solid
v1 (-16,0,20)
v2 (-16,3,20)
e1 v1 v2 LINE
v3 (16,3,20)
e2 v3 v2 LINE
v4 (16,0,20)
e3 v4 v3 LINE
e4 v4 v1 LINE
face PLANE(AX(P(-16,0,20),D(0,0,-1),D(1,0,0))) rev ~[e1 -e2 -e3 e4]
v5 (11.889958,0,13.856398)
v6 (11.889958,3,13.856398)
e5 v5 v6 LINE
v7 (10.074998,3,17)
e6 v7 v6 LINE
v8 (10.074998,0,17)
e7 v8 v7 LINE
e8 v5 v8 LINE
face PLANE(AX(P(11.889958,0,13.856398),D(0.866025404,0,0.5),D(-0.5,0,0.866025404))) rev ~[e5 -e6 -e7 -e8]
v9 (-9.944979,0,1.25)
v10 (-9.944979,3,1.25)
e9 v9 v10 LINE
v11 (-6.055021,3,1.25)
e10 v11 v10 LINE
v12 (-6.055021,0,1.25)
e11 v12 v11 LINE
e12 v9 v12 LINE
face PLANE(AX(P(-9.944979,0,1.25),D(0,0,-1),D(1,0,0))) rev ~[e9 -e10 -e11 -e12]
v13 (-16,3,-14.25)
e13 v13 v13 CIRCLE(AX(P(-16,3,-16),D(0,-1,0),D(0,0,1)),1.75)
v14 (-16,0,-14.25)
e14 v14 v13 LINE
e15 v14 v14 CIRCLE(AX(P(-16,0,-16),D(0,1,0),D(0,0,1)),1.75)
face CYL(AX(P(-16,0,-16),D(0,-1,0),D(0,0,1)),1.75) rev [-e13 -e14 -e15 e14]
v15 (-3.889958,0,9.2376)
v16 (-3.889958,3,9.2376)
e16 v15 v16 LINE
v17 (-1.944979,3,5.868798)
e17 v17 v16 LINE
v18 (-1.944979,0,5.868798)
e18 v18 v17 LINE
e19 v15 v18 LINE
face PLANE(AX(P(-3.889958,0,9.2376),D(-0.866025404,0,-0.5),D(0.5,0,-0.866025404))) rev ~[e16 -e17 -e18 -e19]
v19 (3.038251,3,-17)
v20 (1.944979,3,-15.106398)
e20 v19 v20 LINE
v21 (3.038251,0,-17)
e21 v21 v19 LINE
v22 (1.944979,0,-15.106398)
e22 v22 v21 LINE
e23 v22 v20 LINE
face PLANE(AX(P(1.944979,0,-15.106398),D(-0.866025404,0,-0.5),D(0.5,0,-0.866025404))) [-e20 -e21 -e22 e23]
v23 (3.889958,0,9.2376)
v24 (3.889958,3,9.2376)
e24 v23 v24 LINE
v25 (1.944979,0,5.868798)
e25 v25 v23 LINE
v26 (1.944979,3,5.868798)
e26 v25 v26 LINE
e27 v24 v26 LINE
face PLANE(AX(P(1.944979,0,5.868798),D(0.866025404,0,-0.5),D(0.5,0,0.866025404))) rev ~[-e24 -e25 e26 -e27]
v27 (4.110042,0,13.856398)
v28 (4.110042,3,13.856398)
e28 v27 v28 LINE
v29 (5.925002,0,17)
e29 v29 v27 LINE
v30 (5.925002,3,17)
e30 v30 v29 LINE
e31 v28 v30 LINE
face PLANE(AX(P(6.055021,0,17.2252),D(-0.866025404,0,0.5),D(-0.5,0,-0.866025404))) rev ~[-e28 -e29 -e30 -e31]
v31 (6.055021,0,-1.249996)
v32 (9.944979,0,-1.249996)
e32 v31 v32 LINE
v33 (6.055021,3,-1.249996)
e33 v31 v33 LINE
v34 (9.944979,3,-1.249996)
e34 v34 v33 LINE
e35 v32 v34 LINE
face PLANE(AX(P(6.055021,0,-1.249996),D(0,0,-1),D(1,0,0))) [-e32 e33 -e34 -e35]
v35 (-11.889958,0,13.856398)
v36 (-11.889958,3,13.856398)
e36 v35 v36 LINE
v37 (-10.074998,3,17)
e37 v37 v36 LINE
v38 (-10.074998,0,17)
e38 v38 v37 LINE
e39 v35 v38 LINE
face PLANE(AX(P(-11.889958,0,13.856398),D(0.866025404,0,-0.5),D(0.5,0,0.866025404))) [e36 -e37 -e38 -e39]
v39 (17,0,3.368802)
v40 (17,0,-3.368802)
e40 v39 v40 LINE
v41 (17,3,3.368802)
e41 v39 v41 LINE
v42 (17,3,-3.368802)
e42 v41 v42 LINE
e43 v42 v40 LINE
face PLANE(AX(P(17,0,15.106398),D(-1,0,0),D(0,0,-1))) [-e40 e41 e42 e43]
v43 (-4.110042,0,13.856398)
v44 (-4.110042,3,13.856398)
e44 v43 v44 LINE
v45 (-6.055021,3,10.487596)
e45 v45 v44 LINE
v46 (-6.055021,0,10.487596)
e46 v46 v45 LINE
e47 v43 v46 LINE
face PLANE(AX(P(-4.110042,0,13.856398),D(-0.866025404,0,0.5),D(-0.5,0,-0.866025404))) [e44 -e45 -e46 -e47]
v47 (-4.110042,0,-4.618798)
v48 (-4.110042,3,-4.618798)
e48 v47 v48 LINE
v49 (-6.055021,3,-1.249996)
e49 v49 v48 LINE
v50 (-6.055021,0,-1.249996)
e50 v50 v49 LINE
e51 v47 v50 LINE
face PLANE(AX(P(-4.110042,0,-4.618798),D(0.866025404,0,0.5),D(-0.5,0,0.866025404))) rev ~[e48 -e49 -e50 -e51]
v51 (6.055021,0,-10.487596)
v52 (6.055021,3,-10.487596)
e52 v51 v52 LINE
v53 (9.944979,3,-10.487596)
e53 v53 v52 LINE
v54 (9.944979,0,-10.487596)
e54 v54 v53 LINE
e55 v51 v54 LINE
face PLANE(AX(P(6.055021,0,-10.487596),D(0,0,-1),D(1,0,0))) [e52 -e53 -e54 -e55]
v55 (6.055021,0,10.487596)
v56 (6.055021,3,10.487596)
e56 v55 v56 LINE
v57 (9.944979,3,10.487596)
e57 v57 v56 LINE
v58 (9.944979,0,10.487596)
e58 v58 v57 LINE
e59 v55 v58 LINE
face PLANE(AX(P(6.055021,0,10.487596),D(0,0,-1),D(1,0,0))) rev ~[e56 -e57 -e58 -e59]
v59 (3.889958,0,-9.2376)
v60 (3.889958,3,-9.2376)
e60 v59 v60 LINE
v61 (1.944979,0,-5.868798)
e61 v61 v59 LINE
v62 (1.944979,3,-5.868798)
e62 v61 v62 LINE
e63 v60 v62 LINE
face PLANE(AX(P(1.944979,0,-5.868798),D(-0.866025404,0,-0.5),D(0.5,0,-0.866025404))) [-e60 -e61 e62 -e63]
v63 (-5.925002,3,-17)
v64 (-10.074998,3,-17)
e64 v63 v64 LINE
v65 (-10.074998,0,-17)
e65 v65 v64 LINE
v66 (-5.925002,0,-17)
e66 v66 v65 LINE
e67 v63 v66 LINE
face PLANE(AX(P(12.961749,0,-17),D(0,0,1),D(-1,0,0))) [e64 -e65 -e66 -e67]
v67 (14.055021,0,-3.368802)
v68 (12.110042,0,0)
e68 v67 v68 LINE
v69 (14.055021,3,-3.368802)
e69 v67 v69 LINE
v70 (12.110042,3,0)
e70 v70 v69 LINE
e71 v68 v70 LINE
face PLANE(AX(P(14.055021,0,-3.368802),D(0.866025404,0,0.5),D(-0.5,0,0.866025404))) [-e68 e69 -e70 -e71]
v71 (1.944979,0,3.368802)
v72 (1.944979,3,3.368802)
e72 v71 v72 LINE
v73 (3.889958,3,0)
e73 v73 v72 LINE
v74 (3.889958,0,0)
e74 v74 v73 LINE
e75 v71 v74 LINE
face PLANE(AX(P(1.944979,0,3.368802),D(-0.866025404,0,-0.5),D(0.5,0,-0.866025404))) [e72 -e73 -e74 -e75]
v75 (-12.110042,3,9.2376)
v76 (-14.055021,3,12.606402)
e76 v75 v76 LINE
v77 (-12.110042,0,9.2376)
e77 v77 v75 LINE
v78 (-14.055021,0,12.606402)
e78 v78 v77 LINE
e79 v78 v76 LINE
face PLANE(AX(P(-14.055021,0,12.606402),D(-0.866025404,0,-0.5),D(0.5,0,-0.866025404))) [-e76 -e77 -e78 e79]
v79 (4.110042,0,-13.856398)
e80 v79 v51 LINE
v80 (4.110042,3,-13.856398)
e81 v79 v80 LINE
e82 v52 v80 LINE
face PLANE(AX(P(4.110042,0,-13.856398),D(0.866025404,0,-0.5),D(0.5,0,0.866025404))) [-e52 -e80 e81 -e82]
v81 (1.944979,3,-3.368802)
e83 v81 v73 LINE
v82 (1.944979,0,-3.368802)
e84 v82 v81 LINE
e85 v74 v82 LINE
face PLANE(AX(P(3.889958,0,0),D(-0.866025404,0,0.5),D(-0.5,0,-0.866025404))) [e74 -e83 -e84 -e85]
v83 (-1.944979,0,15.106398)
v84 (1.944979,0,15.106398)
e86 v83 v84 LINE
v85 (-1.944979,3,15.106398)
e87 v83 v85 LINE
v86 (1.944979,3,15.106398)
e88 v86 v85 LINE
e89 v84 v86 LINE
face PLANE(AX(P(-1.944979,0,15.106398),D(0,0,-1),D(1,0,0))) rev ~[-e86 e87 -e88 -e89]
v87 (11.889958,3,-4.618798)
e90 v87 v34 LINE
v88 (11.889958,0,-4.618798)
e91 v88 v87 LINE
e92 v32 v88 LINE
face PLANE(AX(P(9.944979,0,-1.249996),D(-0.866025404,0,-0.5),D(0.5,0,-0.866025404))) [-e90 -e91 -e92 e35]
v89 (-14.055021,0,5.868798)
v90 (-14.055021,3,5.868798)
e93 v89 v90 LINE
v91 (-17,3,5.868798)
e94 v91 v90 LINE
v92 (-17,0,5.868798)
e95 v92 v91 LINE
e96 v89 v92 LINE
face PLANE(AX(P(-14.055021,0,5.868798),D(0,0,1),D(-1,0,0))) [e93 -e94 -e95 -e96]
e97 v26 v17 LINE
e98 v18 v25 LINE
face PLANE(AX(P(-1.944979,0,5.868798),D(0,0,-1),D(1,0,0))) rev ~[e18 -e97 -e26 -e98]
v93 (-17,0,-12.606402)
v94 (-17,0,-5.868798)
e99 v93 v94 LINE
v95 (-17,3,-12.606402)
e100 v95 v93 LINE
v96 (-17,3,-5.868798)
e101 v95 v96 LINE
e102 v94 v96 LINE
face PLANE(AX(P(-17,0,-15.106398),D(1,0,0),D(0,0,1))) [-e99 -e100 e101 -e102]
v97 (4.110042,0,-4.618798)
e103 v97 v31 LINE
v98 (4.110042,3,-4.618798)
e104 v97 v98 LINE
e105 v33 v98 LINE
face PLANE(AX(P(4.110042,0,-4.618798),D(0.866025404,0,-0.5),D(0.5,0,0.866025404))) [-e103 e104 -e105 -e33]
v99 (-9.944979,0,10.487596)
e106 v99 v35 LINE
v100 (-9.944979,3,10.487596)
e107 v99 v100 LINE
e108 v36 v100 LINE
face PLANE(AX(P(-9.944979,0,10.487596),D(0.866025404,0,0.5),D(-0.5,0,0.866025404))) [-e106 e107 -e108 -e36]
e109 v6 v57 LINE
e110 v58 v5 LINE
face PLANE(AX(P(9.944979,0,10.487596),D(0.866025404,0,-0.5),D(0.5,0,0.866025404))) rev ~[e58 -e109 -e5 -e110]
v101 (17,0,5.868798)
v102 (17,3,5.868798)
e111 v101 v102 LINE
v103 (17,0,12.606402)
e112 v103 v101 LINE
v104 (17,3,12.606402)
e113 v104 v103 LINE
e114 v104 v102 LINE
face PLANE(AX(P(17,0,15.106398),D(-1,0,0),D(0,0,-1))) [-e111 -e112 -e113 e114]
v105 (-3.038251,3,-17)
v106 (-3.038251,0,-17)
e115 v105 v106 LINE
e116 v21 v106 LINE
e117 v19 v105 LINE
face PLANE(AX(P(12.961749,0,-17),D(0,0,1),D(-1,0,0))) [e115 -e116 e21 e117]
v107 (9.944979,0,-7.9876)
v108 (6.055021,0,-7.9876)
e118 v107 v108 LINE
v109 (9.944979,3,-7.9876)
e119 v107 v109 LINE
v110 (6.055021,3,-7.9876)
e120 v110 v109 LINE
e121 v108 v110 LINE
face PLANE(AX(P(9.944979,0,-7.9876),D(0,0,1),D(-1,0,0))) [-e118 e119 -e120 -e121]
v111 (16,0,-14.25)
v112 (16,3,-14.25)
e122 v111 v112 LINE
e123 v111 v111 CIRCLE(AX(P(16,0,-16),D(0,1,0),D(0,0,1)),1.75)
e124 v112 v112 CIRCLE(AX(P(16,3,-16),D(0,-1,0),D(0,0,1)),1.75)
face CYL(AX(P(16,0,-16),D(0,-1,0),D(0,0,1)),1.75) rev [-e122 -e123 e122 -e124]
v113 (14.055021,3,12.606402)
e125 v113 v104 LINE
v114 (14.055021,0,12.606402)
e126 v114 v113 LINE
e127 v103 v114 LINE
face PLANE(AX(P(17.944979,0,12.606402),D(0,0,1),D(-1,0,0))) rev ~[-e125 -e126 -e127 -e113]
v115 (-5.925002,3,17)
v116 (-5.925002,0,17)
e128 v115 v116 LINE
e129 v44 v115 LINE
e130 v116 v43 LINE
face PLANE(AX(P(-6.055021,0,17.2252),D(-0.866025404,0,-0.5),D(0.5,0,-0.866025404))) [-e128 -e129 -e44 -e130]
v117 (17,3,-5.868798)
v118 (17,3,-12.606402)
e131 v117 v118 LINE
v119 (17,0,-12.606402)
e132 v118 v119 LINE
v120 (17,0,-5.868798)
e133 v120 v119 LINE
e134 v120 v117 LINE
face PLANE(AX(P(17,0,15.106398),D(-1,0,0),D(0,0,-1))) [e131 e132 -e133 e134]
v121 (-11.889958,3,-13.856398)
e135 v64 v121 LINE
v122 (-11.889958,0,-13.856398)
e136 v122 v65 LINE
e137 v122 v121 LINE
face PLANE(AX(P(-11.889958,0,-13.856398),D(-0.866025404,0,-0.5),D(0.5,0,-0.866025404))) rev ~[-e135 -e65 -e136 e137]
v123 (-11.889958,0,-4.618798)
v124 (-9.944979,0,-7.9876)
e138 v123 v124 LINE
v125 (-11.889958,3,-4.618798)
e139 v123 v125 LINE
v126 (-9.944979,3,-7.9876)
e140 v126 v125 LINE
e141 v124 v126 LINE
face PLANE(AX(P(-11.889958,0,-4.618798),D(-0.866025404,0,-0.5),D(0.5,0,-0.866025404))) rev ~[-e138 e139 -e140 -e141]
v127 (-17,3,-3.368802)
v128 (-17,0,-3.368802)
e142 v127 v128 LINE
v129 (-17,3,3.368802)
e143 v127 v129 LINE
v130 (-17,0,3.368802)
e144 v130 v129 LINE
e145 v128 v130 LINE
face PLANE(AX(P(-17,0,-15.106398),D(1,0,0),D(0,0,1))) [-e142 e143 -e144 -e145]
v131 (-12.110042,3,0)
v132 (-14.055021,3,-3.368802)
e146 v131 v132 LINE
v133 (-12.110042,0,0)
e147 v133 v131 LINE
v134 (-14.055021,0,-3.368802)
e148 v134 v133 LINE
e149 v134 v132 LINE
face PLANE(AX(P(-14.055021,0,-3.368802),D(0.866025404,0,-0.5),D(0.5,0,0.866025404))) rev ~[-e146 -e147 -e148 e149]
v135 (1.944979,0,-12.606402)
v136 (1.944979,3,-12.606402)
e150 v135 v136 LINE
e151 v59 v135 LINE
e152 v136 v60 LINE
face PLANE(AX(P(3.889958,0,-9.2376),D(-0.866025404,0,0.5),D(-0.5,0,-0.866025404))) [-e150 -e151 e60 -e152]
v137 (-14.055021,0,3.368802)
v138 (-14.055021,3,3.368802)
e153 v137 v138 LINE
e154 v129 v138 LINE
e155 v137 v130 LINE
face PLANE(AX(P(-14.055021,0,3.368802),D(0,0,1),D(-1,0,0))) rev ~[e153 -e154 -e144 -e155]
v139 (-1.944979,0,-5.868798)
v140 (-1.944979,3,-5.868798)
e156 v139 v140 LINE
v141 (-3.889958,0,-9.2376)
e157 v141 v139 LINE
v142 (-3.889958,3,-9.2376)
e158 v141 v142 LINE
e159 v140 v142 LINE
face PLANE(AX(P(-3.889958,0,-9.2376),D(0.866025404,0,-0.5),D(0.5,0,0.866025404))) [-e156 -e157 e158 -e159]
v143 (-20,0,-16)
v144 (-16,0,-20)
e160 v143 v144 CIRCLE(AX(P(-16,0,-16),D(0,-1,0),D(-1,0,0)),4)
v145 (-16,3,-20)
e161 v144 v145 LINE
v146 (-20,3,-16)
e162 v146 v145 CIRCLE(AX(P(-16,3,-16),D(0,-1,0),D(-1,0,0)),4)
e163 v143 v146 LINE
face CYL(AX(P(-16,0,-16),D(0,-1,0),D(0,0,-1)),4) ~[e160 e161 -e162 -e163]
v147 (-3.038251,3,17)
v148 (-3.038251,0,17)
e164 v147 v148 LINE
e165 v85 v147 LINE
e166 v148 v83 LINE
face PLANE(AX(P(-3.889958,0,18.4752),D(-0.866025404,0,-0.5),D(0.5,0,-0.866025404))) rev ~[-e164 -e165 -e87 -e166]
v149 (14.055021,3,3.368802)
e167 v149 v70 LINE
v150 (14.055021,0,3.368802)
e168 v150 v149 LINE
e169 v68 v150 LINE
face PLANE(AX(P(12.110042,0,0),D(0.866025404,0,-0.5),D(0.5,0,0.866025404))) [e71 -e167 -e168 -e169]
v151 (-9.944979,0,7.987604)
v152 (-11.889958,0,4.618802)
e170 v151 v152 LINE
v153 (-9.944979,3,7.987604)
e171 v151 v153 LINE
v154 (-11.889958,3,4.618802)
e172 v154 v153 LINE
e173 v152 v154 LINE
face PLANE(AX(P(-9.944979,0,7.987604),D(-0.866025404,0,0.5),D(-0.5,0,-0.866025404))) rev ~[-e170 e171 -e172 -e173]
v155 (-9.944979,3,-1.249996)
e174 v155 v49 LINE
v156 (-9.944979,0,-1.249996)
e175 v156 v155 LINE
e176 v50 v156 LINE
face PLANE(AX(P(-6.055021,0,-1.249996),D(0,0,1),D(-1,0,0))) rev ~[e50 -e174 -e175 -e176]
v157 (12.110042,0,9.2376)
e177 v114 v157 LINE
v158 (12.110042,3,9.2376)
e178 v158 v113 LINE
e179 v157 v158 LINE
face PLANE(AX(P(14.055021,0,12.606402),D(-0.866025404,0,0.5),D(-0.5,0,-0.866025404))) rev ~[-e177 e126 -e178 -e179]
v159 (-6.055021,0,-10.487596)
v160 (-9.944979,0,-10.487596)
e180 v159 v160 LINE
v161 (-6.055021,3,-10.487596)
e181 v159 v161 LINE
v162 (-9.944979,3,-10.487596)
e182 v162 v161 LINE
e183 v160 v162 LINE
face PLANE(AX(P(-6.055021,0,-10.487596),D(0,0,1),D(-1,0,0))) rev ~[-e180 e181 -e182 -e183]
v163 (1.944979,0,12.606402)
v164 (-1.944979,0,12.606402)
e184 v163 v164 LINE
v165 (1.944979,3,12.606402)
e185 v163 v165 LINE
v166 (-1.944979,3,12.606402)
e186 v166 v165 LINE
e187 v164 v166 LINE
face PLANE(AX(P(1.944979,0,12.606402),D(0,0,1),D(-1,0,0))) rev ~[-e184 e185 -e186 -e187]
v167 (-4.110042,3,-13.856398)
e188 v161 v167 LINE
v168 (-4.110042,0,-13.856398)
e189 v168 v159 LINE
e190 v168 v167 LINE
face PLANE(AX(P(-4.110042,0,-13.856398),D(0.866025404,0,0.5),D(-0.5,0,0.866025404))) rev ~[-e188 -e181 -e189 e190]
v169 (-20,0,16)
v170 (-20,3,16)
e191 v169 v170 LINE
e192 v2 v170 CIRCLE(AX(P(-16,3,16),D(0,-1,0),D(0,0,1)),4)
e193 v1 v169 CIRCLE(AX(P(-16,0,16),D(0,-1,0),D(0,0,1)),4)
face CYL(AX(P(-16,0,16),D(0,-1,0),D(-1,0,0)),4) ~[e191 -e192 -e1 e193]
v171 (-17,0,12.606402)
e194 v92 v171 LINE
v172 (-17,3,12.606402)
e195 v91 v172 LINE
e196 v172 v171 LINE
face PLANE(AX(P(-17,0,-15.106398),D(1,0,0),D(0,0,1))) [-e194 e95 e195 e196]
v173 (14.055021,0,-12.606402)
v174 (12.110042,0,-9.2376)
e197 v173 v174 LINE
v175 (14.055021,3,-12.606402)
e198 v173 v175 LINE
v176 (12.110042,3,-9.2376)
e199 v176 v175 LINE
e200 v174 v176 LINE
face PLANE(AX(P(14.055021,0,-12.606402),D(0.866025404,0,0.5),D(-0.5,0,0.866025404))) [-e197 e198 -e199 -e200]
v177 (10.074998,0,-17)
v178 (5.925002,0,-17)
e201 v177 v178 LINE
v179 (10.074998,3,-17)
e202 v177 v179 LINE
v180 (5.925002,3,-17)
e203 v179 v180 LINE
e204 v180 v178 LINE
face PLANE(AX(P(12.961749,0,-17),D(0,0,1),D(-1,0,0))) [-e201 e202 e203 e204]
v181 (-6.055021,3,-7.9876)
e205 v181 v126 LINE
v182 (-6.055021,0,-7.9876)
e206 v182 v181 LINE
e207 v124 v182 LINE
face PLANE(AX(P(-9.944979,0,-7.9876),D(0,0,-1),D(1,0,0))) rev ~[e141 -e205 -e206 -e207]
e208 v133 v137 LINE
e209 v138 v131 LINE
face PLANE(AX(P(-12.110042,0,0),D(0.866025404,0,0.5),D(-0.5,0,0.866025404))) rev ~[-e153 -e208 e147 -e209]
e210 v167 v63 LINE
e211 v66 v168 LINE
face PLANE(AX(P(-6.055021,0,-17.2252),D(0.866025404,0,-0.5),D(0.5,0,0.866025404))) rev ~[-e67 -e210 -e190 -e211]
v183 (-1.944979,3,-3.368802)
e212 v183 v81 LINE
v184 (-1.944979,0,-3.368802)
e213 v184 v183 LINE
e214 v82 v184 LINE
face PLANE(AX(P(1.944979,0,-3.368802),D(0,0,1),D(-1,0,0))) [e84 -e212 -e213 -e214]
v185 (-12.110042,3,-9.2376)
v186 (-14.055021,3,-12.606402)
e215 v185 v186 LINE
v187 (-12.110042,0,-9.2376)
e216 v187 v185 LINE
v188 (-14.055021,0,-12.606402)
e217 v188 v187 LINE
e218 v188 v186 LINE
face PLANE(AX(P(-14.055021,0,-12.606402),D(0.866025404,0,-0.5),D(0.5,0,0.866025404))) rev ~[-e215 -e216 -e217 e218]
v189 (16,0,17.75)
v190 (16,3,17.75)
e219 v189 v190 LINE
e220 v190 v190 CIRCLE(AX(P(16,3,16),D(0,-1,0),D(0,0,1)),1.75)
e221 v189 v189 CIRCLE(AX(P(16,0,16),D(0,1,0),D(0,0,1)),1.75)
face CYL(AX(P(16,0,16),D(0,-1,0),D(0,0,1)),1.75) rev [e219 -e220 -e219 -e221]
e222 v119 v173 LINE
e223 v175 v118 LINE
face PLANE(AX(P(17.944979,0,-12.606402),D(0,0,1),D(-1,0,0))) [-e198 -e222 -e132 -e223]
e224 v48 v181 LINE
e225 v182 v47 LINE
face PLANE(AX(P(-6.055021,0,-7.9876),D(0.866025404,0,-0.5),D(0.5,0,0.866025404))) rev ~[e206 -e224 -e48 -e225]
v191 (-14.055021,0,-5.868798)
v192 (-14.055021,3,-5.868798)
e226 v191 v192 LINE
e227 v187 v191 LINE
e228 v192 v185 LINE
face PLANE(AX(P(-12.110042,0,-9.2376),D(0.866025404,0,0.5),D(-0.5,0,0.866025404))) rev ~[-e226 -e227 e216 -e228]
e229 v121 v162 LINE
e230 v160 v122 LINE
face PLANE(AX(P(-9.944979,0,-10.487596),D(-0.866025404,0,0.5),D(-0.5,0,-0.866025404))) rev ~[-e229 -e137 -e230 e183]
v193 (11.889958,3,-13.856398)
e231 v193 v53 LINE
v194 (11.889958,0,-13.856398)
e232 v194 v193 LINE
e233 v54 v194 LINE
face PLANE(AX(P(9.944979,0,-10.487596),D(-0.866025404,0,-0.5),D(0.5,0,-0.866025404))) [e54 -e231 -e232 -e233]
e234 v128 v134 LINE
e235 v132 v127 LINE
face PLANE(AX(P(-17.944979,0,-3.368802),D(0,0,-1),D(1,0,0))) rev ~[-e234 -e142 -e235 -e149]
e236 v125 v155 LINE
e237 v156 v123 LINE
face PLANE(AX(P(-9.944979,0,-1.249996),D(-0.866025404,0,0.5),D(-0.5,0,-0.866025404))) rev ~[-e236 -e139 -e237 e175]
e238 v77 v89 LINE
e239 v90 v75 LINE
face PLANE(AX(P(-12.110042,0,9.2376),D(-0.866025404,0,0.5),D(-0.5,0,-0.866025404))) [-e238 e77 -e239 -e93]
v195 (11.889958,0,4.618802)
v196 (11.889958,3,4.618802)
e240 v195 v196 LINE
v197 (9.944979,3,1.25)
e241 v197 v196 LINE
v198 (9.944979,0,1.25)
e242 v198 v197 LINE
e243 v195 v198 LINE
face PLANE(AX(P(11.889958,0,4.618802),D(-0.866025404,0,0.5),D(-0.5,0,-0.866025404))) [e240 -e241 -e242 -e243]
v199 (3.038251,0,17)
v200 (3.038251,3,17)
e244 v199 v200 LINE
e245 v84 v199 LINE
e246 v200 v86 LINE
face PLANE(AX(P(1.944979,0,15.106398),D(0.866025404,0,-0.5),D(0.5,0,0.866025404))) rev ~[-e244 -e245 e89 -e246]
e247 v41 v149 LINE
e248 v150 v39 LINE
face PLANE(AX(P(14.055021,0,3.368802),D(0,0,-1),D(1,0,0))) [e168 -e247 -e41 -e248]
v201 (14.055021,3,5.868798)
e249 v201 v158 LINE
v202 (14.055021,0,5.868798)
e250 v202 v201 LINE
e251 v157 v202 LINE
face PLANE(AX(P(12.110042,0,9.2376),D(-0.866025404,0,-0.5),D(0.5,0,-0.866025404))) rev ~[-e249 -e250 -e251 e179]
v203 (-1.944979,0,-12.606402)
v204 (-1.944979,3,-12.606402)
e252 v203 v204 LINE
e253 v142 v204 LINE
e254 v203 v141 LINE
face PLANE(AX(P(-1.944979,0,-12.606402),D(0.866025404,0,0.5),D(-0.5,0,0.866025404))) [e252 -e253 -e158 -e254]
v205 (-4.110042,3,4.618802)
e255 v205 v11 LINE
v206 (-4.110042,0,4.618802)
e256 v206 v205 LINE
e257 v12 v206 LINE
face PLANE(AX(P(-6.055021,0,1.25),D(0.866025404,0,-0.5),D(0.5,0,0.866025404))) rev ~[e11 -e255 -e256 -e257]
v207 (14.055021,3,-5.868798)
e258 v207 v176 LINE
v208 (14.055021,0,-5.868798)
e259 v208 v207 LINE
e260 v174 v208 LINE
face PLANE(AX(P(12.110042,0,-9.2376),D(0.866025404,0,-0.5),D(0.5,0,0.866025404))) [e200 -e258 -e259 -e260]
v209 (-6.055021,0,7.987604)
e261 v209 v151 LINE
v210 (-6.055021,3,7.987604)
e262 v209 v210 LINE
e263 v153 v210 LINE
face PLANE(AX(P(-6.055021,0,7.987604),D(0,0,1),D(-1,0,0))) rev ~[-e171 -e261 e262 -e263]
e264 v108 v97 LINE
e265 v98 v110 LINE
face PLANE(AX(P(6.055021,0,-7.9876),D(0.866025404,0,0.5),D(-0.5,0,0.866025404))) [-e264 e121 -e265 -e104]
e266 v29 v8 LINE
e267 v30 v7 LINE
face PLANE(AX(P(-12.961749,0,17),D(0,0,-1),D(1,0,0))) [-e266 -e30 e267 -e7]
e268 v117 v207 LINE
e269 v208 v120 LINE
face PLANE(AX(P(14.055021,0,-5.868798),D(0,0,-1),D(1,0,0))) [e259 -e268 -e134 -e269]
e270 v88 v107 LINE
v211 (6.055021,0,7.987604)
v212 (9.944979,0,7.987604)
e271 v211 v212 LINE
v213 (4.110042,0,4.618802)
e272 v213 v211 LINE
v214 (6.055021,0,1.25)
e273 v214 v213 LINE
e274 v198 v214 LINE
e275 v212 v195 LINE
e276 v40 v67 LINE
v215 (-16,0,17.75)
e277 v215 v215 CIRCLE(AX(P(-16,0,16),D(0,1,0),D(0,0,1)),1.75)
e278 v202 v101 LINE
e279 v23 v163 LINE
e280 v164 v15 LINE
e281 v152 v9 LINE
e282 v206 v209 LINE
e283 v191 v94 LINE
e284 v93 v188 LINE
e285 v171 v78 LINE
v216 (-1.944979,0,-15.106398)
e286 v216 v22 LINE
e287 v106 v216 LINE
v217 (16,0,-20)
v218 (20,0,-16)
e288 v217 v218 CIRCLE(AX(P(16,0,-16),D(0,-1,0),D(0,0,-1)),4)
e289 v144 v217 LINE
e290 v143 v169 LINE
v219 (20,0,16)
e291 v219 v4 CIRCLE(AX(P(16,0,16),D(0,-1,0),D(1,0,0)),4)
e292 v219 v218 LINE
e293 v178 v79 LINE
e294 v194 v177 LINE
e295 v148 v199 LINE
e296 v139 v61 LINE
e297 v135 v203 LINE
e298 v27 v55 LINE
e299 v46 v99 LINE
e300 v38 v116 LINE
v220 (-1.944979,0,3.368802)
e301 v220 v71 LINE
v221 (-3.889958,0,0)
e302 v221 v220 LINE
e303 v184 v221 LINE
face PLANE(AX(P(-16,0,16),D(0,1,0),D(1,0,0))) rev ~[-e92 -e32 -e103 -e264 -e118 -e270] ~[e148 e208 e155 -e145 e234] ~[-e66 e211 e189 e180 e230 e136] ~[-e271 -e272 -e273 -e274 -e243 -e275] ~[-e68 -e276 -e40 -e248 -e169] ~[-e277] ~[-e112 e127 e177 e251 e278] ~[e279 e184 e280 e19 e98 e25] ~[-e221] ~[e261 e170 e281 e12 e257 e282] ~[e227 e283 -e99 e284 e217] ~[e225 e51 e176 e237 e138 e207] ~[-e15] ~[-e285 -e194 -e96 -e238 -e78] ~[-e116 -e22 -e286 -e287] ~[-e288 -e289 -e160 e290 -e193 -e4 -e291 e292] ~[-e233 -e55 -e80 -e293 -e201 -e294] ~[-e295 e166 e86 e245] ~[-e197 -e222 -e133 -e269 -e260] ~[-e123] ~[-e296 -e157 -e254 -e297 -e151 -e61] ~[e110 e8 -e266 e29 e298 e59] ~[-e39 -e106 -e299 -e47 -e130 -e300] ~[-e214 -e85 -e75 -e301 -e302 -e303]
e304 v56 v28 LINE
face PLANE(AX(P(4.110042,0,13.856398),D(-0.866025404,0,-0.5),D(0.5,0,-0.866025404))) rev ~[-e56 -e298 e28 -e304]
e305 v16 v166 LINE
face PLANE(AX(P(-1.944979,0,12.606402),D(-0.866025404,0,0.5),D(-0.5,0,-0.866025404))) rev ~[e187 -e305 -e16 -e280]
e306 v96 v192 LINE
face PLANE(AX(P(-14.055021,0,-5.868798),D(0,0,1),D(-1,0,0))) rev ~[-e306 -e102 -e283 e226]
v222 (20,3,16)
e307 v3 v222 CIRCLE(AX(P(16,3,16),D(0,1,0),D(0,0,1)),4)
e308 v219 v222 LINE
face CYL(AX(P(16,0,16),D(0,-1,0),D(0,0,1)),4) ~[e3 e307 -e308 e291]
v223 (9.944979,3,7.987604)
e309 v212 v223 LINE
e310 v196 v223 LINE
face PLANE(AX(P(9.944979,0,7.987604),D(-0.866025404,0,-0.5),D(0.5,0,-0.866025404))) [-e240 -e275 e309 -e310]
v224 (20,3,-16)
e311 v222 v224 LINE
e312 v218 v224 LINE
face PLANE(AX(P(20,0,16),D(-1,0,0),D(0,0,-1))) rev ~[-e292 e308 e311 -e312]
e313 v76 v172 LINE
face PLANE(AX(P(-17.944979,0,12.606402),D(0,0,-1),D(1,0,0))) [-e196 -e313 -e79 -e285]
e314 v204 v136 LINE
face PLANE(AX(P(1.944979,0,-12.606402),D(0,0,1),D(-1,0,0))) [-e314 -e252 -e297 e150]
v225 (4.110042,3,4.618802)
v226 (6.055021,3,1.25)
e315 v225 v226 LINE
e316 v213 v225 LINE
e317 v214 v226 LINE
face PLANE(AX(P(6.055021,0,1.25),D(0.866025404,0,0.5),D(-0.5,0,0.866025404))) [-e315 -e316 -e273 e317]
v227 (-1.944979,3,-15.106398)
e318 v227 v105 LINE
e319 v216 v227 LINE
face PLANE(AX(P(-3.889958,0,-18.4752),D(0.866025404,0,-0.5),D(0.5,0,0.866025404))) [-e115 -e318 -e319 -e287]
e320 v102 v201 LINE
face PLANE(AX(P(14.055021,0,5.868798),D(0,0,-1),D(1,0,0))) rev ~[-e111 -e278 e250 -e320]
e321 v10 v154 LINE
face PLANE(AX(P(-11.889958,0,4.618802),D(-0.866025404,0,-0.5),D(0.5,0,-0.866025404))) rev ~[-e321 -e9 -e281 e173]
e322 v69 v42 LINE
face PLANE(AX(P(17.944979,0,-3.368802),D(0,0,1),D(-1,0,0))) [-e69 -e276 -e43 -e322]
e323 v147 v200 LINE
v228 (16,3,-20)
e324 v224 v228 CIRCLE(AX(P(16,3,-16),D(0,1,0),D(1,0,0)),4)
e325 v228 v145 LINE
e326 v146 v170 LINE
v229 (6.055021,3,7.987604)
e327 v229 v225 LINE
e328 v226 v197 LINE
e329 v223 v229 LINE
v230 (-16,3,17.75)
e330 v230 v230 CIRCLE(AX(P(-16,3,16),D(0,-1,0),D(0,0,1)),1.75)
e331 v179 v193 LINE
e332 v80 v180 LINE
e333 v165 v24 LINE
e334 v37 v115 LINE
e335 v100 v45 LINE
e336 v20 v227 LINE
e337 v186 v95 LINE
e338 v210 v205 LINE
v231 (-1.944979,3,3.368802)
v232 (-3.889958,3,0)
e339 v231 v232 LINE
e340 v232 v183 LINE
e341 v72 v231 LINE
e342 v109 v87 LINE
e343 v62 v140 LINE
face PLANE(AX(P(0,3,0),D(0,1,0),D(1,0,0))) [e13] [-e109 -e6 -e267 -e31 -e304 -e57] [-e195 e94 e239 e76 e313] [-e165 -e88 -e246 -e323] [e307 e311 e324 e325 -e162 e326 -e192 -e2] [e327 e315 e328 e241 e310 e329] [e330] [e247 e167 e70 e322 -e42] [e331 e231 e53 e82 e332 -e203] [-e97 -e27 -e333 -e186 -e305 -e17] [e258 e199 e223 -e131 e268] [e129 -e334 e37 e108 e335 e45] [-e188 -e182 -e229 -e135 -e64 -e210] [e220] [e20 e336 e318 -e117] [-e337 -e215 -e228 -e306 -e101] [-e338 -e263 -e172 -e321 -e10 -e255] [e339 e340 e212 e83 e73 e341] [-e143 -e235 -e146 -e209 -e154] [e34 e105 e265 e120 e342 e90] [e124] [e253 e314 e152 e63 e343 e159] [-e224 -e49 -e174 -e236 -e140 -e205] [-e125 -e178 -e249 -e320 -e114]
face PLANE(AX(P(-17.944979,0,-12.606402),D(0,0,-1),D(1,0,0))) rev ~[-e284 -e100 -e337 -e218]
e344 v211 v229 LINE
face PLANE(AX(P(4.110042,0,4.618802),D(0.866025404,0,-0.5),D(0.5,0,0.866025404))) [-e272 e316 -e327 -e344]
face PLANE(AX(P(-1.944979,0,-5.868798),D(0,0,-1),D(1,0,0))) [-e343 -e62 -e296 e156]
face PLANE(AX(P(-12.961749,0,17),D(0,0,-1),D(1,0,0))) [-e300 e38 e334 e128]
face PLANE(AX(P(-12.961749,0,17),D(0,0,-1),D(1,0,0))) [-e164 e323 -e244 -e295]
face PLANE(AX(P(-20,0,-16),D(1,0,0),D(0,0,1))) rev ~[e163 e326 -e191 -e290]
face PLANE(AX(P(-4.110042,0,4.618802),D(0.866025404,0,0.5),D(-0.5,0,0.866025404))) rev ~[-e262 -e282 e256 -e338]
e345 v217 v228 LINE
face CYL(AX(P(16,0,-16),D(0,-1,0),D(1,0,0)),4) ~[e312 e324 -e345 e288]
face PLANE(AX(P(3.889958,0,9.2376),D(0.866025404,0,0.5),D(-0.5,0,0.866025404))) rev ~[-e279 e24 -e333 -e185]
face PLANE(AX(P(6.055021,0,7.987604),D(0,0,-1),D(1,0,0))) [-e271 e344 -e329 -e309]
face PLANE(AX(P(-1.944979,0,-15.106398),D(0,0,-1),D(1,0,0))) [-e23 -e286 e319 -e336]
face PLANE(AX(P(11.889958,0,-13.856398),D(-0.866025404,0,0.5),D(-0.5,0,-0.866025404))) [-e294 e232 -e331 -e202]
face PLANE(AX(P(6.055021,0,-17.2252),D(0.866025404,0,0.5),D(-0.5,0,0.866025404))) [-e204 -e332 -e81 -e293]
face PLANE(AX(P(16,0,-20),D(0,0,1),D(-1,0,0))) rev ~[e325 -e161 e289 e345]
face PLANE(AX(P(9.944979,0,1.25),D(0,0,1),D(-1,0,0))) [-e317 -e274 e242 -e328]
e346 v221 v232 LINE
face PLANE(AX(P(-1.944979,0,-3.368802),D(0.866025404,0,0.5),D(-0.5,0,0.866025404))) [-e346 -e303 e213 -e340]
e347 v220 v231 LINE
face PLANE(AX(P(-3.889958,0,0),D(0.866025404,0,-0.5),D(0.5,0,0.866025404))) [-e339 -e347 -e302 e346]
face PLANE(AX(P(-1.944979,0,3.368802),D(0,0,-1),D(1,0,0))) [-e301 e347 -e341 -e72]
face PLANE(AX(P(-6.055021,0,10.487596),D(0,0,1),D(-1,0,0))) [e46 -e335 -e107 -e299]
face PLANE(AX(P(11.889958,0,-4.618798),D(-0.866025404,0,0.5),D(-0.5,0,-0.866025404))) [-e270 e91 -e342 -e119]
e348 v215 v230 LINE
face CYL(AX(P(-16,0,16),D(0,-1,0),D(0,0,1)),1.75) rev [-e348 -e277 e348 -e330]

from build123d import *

# Parameters (mm, degrees)
SKETCH1_R           = 1.75
BOSS_EXTRUDE1_DEPTH = 3
CUT_EXTRUDE1_DEPTH  = 29.442925307
BOSS_EXTRUDE2_DEPTH = 3
SKETCH1_3_R         = 1.75
CUT_EXTRUDE2_DEPTH  = 29.442925307


with BuildPart() as part:
    # Sketch1 → Boss-Extrude1 (new body)
    # profile 1 of 5: a face of its own
    with BuildSketch(Plane(origin=(0, 0, 0), x_dir=(1, 0, 0), z_dir=(0, 1, 0))):
        with BuildLine():
            Line((-16, -20), (16, -20))
            ThreePointArc((16, -20), (18.828427125, -18.828427125), (20, -16))
            Line((20, -16), (20, 16))
            ThreePointArc((20, 16), (18.828427125, 18.828427125), (16, 20))
            Line((16, 20), (-16, 20))
            ThreePointArc((-16, 20), (-18.828427125, 18.828427125), (-20, 16))
            Line((-20, 16), (-20, -16))
            ThreePointArc((-20, -16), (-18.828427125, -18.828427125), (-16, -20))
        make_face()
        with Locations((-16, 16)):
            Circle(SKETCH1_R, mode=Mode.SUBTRACT)
        with Locations((16, 16)):
            Circle(SKETCH1_R, mode=Mode.SUBTRACT)
        with Locations((16, -16)):
            Circle(SKETCH1_R, mode=Mode.SUBTRACT)
        with Locations((-16, -16)):
            Circle(SKETCH1_R, mode=Mode.SUBTRACT)
    # profile 2 of 5: a face of its own
    with BuildSketch(Plane(origin=(0, 0, 0), x_dir=(1, 0, 0), z_dir=(0, 1, 0))):
        with Locations((-16, 16)):
            Circle(SKETCH1_R)
    # profile 3 of 5: a face of its own
    with BuildSketch(Plane(origin=(0, 0, 0), x_dir=(1, 0, 0), z_dir=(0, 1, 0))):
        with Locations((16, 16)):
            Circle(SKETCH1_R)
    # profile 4 of 5: a face of its own
    with BuildSketch(Plane(origin=(0, 0, 0), x_dir=(1, 0, 0), z_dir=(0, 1, 0))):
        with Locations((16, -16)):
            Circle(SKETCH1_R)
    # profile 5 of 5: a face of its own
    with BuildSketch(Plane(origin=(0, 0, 0), x_dir=(1, 0, 0), z_dir=(0, 1, 0))):
        with Locations((-16, -16)):
            Circle(SKETCH1_R)
    extrude(amount=BOSS_EXTRUDE1_DEPTH)

    # Sketch3 → Cut-Extrude1 (cut, through all)
    with BuildSketch(Plane(origin=(0, 0, 0), x_dir=(1, 0, 0), z_dir=(0, 1, 0))):
        Polygon((6.05502117, -1.25), (4.11004234, -4.618802154), (6.05502117, -7.987604307), (9.94497883, -7.987604307), (11.88995766, -4.618802154), (9.94497883, -1.25), align=None)
        Polygon((-1.94497883, 3.368802154), (-3.88995766, 0), (-1.94497883, -3.368802154), (1.94497883, -3.368802154), (3.88995766, 0), (1.94497883, 3.368802154), align=None)
        Polygon((14.05502117, 3.368802154), (12.11004234, 0), (14.05502117, -3.368802154), (17.94497883, -3.368802154), (19.88995766, 0), (17.94497883, 3.368802154), align=None)
        Polygon((22.05502117, -1.25), (20.11004234, -4.618802154), (22.05502117, -7.987604307), (25.94497883, -7.987604307), (27.88995766, -4.618802154), (25.94497883, -1.25), align=None)
        Polygon((14.05502117, 12.606402154), (12.11004234, 9.2376), (14.05502117, 5.868797846), (17.94497883, 5.868797846), (19.88995766, 9.2376), (17.94497883, 12.606402154), align=None)
        Polygon((22.05502117, 7.9876), (20.11004234, 4.618797846), (22.05502117, 1.249995693), (25.94497883, 1.249995693), (27.88995766, 4.618797846), (25.94497883, 7.9876), align=None)
        Polygon((14.05502117, 21.844002154), (12.11004234, 18.4752), (14.05502117, 15.106397846), (17.94497883, 15.106397846), (19.88995766, 18.4752), (17.94497883, 21.844002154), align=None)
        Polygon((22.05502117, 17.2252), (20.11004234, 13.856397846), (22.05502117, 10.487595693), (25.94497883, 10.487595693), (27.88995766, 13.856397846), (25.94497883, 17.2252), align=None)
        Polygon((-1.94497883, 12.606402154), (-3.88995766, 9.2376), (-1.94497883, 5.868797846), (1.94497883, 5.868797846), (3.88995766, 9.2376), (1.94497883, 12.606402154), align=None)
        Polygon((6.05502117, 7.9876), (4.11004234, 4.618797846), (6.05502117, 1.249995693), (9.94497883, 1.249995693), (11.88995766, 4.618797846), (9.94497883, 7.9876), align=None)
        Polygon((-1.94497883, 21.844002154), (-3.88995766, 18.4752), (-1.94497883, 15.106397846), (1.94497883, 15.106397846), (3.88995766, 18.4752), (1.94497883, 21.844002154), align=None)
        Polygon((6.05502117, 17.2252), (4.11004234, 13.856397846), (6.05502117, 10.487595693), (9.94497883, 10.487595693), (11.88995766, 13.856397846), (9.94497883, 17.2252), align=None)
        Polygon((-9.94497883, -1.25), (-6.05502117, -1.25), (-4.11004234, -4.618802154), (-6.05502117, -7.987604307), (-9.94497883, -7.987604307), (-11.88995766, -4.618802154), align=None)
        Polygon((-9.94497883, 7.9876), (-6.05502117, 7.9876), (-4.11004234, 4.618797846), (-6.05502117, 1.249995693), (-9.94497883, 1.249995693), (-11.88995766, 4.618797846), align=None)
        Polygon((-9.94497883, 17.2252), (-6.05502117, 17.2252), (-4.11004234, 13.856397846), (-6.05502117, 10.487595693), (-9.94497883, 10.487595693), (-11.88995766, 13.856397846), align=None)
        Polygon((-17.94497883, 12.606402154), (-14.05502117, 12.606402154), (-12.11004234, 9.2376), (-14.05502117, 5.868797846), (-17.94497883, 5.868797846), (-19.88995766, 9.2376), align=None)
        Polygon((-17.94497883, 3.368802154), (-14.05502117, 3.368802154), (-12.11004234, 0), (-14.05502117, -3.368802154), (-17.94497883, -3.368802154), (-19.88995766, 0), align=None)
        Polygon((-25.94497883, -1.25), (-22.05502117, -1.25), (-20.11004234, -4.618802154), (-22.05502117, -7.987604307), (-25.94497883, -7.987604307), (-27.88995766, -4.618802154), align=None)
        Polygon((-25.94497883, 7.9876), (-22.05502117, 7.9876), (-20.11004234, 4.618797846), (-22.05502117, 1.249995693), (-25.94497883, 1.249995693), (-27.88995766, 4.618797846), align=None)
        Polygon((-25.94497883, 17.2252), (-22.05502117, 17.2252), (-20.11004234, 13.856397846), (-22.05502117, 10.487595693), (-25.94497883, 10.487595693), (-27.88995766, 13.856397846), align=None)
        Polygon((-17.94497883, 21.844002154), (-14.05502117, 21.844002154), (-12.11004234, 18.4752), (-14.05502117, 15.106397846), (-17.94497883, 15.106397846), (-19.88995766, 18.4752), align=None)
        Polygon((17.94497883, -21.844002154), (14.05502117, -21.844002154), (12.11004234, -18.4752), (14.05502117, -15.106397846), (17.94497883, -15.106397846), (19.88995766, -18.4752), align=None)
        Polygon((25.94497883, -17.2252), (22.05502117, -17.2252), (20.11004234, -13.856397846), (22.05502117, -10.487595693), (25.94497883, -10.487595693), (27.88995766, -13.856397846), align=None)
        Polygon((17.94497883, -12.606402154), (14.05502117, -12.606402154), (12.11004234, -9.2376), (14.05502117, -5.868797846), (17.94497883, -5.868797846), (19.88995766, -9.2376), align=None)
        Polygon((9.94497883, -17.2252), (6.05502117, -17.2252), (4.11004234, -13.856397846), (6.05502117, -10.487595693), (9.94497883, -10.487595693), (11.88995766, -13.856397846), align=None)
        Polygon((1.94497883, -21.844002154), (-1.94497883, -21.844002154), (-3.88995766, -18.4752), (-1.94497883, -15.106397846), (1.94497883, -15.106397846), (3.88995766, -18.4752), align=None)
        Polygon((1.94497883, -12.606402154), (-1.94497883, -12.606402154), (-3.88995766, -9.2376), (-1.94497883, -5.868797846), (1.94497883, -5.868797846), (3.88995766, -9.2376), align=None)
        Polygon((-11.88995766, -13.856397846), (-9.94497883, -17.2252), (-6.05502117, -17.2252), (-4.11004234, -13.856397846), (-6.05502117, -10.487595693), (-9.94497883, -10.487595693), align=None)
        Polygon((-19.88995766, -18.4752), (-17.94497883, -21.844002154), (-14.05502117, -21.844002154), (-12.11004234, -18.4752), (-14.05502117, -15.106397846), (-17.94497883, -15.106397846), align=None)
        Polygon((-27.88995766, -13.856397846), (-25.94497883, -17.2252), (-22.05502117, -17.2252), (-20.11004234, -13.856397846), (-22.05502117, -10.487595693), (-25.94497883, -10.487595693), align=None)
        Polygon((-19.88995766, -9.2376), (-17.94497883, -12.606402154), (-14.05502117, -12.606402154), (-12.11004234, -9.2376), (-14.05502117, -5.868797846), (-17.94497883, -5.868797846), align=None)
    extrude(amount=CUT_EXTRUDE1_DEPTH, mode=Mode.SUBTRACT)

    # Sketch4 → Boss-Extrude2 (add, through all)
    with BuildSketch(Plane(origin=(0, 0, 0), x_dir=(1, 0, 0), z_dir=(0, 1, 0))):
        with BuildLine():
            Line((-20, 16), (-20, -16))
            ThreePointArc((-20, -16), (-18.828427125, -18.828427125), (-16, -20))
            Line((-16, -20), (16, -20))
            ThreePointArc((16, -20), (18.828427125, -18.828427125), (20, -16))
            Line((20, -16), (20, 16))
            ThreePointArc((20, 16), (18.828427125, 18.828427125), (16, 20))
            Line((16, 20), (-16, 20))
            ThreePointArc((-16, 20), (-18.828427125, 18.828427125), (-20, 16))
        make_face()
        Polygon((12.961749457, 17), (-12.961749457, 17), (-14.05502117, 15.106397846), (-17, 15.106397846), (-17, -15.106397846), (-14.05502117, -15.106397846), (-12.961749457, -17), (12.961749457, -17), (14.05502117, -15.106397846), (17, -15.106397846), (17, 15.106397846), (14.05502117, 15.106397846), align=None, mode=Mode.SUBTRACT)
    extrude(amount=BOSS_EXTRUDE2_DEPTH)

    # Sketch1<3> → Cut-Extrude2 (cut, through all)
    with BuildSketch(Plane(origin=(0, 0, 0), x_dir=(1, 0, 0), z_dir=(0, 1, 0))):
        with Locations(Location((16, 16, 0), (0, 0, 270))):
            Circle(SKETCH1_3_R)
        with Locations(Location((-16, -16, 0), (0, 0, 270))):
            Circle(SKETCH1_3_R)
        with Locations(Location((16, -16, 0), (0, 0, 270))):
            Circle(SKETCH1_3_R)
        with Locations(Location((-16, 16, 0), (0, 0, 270))):
            Circle(SKETCH1_3_R)
    extrude(amount=CUT_EXTRUDE2_DEPTH, mode=Mode.SUBTRACT)


solid = part.part
